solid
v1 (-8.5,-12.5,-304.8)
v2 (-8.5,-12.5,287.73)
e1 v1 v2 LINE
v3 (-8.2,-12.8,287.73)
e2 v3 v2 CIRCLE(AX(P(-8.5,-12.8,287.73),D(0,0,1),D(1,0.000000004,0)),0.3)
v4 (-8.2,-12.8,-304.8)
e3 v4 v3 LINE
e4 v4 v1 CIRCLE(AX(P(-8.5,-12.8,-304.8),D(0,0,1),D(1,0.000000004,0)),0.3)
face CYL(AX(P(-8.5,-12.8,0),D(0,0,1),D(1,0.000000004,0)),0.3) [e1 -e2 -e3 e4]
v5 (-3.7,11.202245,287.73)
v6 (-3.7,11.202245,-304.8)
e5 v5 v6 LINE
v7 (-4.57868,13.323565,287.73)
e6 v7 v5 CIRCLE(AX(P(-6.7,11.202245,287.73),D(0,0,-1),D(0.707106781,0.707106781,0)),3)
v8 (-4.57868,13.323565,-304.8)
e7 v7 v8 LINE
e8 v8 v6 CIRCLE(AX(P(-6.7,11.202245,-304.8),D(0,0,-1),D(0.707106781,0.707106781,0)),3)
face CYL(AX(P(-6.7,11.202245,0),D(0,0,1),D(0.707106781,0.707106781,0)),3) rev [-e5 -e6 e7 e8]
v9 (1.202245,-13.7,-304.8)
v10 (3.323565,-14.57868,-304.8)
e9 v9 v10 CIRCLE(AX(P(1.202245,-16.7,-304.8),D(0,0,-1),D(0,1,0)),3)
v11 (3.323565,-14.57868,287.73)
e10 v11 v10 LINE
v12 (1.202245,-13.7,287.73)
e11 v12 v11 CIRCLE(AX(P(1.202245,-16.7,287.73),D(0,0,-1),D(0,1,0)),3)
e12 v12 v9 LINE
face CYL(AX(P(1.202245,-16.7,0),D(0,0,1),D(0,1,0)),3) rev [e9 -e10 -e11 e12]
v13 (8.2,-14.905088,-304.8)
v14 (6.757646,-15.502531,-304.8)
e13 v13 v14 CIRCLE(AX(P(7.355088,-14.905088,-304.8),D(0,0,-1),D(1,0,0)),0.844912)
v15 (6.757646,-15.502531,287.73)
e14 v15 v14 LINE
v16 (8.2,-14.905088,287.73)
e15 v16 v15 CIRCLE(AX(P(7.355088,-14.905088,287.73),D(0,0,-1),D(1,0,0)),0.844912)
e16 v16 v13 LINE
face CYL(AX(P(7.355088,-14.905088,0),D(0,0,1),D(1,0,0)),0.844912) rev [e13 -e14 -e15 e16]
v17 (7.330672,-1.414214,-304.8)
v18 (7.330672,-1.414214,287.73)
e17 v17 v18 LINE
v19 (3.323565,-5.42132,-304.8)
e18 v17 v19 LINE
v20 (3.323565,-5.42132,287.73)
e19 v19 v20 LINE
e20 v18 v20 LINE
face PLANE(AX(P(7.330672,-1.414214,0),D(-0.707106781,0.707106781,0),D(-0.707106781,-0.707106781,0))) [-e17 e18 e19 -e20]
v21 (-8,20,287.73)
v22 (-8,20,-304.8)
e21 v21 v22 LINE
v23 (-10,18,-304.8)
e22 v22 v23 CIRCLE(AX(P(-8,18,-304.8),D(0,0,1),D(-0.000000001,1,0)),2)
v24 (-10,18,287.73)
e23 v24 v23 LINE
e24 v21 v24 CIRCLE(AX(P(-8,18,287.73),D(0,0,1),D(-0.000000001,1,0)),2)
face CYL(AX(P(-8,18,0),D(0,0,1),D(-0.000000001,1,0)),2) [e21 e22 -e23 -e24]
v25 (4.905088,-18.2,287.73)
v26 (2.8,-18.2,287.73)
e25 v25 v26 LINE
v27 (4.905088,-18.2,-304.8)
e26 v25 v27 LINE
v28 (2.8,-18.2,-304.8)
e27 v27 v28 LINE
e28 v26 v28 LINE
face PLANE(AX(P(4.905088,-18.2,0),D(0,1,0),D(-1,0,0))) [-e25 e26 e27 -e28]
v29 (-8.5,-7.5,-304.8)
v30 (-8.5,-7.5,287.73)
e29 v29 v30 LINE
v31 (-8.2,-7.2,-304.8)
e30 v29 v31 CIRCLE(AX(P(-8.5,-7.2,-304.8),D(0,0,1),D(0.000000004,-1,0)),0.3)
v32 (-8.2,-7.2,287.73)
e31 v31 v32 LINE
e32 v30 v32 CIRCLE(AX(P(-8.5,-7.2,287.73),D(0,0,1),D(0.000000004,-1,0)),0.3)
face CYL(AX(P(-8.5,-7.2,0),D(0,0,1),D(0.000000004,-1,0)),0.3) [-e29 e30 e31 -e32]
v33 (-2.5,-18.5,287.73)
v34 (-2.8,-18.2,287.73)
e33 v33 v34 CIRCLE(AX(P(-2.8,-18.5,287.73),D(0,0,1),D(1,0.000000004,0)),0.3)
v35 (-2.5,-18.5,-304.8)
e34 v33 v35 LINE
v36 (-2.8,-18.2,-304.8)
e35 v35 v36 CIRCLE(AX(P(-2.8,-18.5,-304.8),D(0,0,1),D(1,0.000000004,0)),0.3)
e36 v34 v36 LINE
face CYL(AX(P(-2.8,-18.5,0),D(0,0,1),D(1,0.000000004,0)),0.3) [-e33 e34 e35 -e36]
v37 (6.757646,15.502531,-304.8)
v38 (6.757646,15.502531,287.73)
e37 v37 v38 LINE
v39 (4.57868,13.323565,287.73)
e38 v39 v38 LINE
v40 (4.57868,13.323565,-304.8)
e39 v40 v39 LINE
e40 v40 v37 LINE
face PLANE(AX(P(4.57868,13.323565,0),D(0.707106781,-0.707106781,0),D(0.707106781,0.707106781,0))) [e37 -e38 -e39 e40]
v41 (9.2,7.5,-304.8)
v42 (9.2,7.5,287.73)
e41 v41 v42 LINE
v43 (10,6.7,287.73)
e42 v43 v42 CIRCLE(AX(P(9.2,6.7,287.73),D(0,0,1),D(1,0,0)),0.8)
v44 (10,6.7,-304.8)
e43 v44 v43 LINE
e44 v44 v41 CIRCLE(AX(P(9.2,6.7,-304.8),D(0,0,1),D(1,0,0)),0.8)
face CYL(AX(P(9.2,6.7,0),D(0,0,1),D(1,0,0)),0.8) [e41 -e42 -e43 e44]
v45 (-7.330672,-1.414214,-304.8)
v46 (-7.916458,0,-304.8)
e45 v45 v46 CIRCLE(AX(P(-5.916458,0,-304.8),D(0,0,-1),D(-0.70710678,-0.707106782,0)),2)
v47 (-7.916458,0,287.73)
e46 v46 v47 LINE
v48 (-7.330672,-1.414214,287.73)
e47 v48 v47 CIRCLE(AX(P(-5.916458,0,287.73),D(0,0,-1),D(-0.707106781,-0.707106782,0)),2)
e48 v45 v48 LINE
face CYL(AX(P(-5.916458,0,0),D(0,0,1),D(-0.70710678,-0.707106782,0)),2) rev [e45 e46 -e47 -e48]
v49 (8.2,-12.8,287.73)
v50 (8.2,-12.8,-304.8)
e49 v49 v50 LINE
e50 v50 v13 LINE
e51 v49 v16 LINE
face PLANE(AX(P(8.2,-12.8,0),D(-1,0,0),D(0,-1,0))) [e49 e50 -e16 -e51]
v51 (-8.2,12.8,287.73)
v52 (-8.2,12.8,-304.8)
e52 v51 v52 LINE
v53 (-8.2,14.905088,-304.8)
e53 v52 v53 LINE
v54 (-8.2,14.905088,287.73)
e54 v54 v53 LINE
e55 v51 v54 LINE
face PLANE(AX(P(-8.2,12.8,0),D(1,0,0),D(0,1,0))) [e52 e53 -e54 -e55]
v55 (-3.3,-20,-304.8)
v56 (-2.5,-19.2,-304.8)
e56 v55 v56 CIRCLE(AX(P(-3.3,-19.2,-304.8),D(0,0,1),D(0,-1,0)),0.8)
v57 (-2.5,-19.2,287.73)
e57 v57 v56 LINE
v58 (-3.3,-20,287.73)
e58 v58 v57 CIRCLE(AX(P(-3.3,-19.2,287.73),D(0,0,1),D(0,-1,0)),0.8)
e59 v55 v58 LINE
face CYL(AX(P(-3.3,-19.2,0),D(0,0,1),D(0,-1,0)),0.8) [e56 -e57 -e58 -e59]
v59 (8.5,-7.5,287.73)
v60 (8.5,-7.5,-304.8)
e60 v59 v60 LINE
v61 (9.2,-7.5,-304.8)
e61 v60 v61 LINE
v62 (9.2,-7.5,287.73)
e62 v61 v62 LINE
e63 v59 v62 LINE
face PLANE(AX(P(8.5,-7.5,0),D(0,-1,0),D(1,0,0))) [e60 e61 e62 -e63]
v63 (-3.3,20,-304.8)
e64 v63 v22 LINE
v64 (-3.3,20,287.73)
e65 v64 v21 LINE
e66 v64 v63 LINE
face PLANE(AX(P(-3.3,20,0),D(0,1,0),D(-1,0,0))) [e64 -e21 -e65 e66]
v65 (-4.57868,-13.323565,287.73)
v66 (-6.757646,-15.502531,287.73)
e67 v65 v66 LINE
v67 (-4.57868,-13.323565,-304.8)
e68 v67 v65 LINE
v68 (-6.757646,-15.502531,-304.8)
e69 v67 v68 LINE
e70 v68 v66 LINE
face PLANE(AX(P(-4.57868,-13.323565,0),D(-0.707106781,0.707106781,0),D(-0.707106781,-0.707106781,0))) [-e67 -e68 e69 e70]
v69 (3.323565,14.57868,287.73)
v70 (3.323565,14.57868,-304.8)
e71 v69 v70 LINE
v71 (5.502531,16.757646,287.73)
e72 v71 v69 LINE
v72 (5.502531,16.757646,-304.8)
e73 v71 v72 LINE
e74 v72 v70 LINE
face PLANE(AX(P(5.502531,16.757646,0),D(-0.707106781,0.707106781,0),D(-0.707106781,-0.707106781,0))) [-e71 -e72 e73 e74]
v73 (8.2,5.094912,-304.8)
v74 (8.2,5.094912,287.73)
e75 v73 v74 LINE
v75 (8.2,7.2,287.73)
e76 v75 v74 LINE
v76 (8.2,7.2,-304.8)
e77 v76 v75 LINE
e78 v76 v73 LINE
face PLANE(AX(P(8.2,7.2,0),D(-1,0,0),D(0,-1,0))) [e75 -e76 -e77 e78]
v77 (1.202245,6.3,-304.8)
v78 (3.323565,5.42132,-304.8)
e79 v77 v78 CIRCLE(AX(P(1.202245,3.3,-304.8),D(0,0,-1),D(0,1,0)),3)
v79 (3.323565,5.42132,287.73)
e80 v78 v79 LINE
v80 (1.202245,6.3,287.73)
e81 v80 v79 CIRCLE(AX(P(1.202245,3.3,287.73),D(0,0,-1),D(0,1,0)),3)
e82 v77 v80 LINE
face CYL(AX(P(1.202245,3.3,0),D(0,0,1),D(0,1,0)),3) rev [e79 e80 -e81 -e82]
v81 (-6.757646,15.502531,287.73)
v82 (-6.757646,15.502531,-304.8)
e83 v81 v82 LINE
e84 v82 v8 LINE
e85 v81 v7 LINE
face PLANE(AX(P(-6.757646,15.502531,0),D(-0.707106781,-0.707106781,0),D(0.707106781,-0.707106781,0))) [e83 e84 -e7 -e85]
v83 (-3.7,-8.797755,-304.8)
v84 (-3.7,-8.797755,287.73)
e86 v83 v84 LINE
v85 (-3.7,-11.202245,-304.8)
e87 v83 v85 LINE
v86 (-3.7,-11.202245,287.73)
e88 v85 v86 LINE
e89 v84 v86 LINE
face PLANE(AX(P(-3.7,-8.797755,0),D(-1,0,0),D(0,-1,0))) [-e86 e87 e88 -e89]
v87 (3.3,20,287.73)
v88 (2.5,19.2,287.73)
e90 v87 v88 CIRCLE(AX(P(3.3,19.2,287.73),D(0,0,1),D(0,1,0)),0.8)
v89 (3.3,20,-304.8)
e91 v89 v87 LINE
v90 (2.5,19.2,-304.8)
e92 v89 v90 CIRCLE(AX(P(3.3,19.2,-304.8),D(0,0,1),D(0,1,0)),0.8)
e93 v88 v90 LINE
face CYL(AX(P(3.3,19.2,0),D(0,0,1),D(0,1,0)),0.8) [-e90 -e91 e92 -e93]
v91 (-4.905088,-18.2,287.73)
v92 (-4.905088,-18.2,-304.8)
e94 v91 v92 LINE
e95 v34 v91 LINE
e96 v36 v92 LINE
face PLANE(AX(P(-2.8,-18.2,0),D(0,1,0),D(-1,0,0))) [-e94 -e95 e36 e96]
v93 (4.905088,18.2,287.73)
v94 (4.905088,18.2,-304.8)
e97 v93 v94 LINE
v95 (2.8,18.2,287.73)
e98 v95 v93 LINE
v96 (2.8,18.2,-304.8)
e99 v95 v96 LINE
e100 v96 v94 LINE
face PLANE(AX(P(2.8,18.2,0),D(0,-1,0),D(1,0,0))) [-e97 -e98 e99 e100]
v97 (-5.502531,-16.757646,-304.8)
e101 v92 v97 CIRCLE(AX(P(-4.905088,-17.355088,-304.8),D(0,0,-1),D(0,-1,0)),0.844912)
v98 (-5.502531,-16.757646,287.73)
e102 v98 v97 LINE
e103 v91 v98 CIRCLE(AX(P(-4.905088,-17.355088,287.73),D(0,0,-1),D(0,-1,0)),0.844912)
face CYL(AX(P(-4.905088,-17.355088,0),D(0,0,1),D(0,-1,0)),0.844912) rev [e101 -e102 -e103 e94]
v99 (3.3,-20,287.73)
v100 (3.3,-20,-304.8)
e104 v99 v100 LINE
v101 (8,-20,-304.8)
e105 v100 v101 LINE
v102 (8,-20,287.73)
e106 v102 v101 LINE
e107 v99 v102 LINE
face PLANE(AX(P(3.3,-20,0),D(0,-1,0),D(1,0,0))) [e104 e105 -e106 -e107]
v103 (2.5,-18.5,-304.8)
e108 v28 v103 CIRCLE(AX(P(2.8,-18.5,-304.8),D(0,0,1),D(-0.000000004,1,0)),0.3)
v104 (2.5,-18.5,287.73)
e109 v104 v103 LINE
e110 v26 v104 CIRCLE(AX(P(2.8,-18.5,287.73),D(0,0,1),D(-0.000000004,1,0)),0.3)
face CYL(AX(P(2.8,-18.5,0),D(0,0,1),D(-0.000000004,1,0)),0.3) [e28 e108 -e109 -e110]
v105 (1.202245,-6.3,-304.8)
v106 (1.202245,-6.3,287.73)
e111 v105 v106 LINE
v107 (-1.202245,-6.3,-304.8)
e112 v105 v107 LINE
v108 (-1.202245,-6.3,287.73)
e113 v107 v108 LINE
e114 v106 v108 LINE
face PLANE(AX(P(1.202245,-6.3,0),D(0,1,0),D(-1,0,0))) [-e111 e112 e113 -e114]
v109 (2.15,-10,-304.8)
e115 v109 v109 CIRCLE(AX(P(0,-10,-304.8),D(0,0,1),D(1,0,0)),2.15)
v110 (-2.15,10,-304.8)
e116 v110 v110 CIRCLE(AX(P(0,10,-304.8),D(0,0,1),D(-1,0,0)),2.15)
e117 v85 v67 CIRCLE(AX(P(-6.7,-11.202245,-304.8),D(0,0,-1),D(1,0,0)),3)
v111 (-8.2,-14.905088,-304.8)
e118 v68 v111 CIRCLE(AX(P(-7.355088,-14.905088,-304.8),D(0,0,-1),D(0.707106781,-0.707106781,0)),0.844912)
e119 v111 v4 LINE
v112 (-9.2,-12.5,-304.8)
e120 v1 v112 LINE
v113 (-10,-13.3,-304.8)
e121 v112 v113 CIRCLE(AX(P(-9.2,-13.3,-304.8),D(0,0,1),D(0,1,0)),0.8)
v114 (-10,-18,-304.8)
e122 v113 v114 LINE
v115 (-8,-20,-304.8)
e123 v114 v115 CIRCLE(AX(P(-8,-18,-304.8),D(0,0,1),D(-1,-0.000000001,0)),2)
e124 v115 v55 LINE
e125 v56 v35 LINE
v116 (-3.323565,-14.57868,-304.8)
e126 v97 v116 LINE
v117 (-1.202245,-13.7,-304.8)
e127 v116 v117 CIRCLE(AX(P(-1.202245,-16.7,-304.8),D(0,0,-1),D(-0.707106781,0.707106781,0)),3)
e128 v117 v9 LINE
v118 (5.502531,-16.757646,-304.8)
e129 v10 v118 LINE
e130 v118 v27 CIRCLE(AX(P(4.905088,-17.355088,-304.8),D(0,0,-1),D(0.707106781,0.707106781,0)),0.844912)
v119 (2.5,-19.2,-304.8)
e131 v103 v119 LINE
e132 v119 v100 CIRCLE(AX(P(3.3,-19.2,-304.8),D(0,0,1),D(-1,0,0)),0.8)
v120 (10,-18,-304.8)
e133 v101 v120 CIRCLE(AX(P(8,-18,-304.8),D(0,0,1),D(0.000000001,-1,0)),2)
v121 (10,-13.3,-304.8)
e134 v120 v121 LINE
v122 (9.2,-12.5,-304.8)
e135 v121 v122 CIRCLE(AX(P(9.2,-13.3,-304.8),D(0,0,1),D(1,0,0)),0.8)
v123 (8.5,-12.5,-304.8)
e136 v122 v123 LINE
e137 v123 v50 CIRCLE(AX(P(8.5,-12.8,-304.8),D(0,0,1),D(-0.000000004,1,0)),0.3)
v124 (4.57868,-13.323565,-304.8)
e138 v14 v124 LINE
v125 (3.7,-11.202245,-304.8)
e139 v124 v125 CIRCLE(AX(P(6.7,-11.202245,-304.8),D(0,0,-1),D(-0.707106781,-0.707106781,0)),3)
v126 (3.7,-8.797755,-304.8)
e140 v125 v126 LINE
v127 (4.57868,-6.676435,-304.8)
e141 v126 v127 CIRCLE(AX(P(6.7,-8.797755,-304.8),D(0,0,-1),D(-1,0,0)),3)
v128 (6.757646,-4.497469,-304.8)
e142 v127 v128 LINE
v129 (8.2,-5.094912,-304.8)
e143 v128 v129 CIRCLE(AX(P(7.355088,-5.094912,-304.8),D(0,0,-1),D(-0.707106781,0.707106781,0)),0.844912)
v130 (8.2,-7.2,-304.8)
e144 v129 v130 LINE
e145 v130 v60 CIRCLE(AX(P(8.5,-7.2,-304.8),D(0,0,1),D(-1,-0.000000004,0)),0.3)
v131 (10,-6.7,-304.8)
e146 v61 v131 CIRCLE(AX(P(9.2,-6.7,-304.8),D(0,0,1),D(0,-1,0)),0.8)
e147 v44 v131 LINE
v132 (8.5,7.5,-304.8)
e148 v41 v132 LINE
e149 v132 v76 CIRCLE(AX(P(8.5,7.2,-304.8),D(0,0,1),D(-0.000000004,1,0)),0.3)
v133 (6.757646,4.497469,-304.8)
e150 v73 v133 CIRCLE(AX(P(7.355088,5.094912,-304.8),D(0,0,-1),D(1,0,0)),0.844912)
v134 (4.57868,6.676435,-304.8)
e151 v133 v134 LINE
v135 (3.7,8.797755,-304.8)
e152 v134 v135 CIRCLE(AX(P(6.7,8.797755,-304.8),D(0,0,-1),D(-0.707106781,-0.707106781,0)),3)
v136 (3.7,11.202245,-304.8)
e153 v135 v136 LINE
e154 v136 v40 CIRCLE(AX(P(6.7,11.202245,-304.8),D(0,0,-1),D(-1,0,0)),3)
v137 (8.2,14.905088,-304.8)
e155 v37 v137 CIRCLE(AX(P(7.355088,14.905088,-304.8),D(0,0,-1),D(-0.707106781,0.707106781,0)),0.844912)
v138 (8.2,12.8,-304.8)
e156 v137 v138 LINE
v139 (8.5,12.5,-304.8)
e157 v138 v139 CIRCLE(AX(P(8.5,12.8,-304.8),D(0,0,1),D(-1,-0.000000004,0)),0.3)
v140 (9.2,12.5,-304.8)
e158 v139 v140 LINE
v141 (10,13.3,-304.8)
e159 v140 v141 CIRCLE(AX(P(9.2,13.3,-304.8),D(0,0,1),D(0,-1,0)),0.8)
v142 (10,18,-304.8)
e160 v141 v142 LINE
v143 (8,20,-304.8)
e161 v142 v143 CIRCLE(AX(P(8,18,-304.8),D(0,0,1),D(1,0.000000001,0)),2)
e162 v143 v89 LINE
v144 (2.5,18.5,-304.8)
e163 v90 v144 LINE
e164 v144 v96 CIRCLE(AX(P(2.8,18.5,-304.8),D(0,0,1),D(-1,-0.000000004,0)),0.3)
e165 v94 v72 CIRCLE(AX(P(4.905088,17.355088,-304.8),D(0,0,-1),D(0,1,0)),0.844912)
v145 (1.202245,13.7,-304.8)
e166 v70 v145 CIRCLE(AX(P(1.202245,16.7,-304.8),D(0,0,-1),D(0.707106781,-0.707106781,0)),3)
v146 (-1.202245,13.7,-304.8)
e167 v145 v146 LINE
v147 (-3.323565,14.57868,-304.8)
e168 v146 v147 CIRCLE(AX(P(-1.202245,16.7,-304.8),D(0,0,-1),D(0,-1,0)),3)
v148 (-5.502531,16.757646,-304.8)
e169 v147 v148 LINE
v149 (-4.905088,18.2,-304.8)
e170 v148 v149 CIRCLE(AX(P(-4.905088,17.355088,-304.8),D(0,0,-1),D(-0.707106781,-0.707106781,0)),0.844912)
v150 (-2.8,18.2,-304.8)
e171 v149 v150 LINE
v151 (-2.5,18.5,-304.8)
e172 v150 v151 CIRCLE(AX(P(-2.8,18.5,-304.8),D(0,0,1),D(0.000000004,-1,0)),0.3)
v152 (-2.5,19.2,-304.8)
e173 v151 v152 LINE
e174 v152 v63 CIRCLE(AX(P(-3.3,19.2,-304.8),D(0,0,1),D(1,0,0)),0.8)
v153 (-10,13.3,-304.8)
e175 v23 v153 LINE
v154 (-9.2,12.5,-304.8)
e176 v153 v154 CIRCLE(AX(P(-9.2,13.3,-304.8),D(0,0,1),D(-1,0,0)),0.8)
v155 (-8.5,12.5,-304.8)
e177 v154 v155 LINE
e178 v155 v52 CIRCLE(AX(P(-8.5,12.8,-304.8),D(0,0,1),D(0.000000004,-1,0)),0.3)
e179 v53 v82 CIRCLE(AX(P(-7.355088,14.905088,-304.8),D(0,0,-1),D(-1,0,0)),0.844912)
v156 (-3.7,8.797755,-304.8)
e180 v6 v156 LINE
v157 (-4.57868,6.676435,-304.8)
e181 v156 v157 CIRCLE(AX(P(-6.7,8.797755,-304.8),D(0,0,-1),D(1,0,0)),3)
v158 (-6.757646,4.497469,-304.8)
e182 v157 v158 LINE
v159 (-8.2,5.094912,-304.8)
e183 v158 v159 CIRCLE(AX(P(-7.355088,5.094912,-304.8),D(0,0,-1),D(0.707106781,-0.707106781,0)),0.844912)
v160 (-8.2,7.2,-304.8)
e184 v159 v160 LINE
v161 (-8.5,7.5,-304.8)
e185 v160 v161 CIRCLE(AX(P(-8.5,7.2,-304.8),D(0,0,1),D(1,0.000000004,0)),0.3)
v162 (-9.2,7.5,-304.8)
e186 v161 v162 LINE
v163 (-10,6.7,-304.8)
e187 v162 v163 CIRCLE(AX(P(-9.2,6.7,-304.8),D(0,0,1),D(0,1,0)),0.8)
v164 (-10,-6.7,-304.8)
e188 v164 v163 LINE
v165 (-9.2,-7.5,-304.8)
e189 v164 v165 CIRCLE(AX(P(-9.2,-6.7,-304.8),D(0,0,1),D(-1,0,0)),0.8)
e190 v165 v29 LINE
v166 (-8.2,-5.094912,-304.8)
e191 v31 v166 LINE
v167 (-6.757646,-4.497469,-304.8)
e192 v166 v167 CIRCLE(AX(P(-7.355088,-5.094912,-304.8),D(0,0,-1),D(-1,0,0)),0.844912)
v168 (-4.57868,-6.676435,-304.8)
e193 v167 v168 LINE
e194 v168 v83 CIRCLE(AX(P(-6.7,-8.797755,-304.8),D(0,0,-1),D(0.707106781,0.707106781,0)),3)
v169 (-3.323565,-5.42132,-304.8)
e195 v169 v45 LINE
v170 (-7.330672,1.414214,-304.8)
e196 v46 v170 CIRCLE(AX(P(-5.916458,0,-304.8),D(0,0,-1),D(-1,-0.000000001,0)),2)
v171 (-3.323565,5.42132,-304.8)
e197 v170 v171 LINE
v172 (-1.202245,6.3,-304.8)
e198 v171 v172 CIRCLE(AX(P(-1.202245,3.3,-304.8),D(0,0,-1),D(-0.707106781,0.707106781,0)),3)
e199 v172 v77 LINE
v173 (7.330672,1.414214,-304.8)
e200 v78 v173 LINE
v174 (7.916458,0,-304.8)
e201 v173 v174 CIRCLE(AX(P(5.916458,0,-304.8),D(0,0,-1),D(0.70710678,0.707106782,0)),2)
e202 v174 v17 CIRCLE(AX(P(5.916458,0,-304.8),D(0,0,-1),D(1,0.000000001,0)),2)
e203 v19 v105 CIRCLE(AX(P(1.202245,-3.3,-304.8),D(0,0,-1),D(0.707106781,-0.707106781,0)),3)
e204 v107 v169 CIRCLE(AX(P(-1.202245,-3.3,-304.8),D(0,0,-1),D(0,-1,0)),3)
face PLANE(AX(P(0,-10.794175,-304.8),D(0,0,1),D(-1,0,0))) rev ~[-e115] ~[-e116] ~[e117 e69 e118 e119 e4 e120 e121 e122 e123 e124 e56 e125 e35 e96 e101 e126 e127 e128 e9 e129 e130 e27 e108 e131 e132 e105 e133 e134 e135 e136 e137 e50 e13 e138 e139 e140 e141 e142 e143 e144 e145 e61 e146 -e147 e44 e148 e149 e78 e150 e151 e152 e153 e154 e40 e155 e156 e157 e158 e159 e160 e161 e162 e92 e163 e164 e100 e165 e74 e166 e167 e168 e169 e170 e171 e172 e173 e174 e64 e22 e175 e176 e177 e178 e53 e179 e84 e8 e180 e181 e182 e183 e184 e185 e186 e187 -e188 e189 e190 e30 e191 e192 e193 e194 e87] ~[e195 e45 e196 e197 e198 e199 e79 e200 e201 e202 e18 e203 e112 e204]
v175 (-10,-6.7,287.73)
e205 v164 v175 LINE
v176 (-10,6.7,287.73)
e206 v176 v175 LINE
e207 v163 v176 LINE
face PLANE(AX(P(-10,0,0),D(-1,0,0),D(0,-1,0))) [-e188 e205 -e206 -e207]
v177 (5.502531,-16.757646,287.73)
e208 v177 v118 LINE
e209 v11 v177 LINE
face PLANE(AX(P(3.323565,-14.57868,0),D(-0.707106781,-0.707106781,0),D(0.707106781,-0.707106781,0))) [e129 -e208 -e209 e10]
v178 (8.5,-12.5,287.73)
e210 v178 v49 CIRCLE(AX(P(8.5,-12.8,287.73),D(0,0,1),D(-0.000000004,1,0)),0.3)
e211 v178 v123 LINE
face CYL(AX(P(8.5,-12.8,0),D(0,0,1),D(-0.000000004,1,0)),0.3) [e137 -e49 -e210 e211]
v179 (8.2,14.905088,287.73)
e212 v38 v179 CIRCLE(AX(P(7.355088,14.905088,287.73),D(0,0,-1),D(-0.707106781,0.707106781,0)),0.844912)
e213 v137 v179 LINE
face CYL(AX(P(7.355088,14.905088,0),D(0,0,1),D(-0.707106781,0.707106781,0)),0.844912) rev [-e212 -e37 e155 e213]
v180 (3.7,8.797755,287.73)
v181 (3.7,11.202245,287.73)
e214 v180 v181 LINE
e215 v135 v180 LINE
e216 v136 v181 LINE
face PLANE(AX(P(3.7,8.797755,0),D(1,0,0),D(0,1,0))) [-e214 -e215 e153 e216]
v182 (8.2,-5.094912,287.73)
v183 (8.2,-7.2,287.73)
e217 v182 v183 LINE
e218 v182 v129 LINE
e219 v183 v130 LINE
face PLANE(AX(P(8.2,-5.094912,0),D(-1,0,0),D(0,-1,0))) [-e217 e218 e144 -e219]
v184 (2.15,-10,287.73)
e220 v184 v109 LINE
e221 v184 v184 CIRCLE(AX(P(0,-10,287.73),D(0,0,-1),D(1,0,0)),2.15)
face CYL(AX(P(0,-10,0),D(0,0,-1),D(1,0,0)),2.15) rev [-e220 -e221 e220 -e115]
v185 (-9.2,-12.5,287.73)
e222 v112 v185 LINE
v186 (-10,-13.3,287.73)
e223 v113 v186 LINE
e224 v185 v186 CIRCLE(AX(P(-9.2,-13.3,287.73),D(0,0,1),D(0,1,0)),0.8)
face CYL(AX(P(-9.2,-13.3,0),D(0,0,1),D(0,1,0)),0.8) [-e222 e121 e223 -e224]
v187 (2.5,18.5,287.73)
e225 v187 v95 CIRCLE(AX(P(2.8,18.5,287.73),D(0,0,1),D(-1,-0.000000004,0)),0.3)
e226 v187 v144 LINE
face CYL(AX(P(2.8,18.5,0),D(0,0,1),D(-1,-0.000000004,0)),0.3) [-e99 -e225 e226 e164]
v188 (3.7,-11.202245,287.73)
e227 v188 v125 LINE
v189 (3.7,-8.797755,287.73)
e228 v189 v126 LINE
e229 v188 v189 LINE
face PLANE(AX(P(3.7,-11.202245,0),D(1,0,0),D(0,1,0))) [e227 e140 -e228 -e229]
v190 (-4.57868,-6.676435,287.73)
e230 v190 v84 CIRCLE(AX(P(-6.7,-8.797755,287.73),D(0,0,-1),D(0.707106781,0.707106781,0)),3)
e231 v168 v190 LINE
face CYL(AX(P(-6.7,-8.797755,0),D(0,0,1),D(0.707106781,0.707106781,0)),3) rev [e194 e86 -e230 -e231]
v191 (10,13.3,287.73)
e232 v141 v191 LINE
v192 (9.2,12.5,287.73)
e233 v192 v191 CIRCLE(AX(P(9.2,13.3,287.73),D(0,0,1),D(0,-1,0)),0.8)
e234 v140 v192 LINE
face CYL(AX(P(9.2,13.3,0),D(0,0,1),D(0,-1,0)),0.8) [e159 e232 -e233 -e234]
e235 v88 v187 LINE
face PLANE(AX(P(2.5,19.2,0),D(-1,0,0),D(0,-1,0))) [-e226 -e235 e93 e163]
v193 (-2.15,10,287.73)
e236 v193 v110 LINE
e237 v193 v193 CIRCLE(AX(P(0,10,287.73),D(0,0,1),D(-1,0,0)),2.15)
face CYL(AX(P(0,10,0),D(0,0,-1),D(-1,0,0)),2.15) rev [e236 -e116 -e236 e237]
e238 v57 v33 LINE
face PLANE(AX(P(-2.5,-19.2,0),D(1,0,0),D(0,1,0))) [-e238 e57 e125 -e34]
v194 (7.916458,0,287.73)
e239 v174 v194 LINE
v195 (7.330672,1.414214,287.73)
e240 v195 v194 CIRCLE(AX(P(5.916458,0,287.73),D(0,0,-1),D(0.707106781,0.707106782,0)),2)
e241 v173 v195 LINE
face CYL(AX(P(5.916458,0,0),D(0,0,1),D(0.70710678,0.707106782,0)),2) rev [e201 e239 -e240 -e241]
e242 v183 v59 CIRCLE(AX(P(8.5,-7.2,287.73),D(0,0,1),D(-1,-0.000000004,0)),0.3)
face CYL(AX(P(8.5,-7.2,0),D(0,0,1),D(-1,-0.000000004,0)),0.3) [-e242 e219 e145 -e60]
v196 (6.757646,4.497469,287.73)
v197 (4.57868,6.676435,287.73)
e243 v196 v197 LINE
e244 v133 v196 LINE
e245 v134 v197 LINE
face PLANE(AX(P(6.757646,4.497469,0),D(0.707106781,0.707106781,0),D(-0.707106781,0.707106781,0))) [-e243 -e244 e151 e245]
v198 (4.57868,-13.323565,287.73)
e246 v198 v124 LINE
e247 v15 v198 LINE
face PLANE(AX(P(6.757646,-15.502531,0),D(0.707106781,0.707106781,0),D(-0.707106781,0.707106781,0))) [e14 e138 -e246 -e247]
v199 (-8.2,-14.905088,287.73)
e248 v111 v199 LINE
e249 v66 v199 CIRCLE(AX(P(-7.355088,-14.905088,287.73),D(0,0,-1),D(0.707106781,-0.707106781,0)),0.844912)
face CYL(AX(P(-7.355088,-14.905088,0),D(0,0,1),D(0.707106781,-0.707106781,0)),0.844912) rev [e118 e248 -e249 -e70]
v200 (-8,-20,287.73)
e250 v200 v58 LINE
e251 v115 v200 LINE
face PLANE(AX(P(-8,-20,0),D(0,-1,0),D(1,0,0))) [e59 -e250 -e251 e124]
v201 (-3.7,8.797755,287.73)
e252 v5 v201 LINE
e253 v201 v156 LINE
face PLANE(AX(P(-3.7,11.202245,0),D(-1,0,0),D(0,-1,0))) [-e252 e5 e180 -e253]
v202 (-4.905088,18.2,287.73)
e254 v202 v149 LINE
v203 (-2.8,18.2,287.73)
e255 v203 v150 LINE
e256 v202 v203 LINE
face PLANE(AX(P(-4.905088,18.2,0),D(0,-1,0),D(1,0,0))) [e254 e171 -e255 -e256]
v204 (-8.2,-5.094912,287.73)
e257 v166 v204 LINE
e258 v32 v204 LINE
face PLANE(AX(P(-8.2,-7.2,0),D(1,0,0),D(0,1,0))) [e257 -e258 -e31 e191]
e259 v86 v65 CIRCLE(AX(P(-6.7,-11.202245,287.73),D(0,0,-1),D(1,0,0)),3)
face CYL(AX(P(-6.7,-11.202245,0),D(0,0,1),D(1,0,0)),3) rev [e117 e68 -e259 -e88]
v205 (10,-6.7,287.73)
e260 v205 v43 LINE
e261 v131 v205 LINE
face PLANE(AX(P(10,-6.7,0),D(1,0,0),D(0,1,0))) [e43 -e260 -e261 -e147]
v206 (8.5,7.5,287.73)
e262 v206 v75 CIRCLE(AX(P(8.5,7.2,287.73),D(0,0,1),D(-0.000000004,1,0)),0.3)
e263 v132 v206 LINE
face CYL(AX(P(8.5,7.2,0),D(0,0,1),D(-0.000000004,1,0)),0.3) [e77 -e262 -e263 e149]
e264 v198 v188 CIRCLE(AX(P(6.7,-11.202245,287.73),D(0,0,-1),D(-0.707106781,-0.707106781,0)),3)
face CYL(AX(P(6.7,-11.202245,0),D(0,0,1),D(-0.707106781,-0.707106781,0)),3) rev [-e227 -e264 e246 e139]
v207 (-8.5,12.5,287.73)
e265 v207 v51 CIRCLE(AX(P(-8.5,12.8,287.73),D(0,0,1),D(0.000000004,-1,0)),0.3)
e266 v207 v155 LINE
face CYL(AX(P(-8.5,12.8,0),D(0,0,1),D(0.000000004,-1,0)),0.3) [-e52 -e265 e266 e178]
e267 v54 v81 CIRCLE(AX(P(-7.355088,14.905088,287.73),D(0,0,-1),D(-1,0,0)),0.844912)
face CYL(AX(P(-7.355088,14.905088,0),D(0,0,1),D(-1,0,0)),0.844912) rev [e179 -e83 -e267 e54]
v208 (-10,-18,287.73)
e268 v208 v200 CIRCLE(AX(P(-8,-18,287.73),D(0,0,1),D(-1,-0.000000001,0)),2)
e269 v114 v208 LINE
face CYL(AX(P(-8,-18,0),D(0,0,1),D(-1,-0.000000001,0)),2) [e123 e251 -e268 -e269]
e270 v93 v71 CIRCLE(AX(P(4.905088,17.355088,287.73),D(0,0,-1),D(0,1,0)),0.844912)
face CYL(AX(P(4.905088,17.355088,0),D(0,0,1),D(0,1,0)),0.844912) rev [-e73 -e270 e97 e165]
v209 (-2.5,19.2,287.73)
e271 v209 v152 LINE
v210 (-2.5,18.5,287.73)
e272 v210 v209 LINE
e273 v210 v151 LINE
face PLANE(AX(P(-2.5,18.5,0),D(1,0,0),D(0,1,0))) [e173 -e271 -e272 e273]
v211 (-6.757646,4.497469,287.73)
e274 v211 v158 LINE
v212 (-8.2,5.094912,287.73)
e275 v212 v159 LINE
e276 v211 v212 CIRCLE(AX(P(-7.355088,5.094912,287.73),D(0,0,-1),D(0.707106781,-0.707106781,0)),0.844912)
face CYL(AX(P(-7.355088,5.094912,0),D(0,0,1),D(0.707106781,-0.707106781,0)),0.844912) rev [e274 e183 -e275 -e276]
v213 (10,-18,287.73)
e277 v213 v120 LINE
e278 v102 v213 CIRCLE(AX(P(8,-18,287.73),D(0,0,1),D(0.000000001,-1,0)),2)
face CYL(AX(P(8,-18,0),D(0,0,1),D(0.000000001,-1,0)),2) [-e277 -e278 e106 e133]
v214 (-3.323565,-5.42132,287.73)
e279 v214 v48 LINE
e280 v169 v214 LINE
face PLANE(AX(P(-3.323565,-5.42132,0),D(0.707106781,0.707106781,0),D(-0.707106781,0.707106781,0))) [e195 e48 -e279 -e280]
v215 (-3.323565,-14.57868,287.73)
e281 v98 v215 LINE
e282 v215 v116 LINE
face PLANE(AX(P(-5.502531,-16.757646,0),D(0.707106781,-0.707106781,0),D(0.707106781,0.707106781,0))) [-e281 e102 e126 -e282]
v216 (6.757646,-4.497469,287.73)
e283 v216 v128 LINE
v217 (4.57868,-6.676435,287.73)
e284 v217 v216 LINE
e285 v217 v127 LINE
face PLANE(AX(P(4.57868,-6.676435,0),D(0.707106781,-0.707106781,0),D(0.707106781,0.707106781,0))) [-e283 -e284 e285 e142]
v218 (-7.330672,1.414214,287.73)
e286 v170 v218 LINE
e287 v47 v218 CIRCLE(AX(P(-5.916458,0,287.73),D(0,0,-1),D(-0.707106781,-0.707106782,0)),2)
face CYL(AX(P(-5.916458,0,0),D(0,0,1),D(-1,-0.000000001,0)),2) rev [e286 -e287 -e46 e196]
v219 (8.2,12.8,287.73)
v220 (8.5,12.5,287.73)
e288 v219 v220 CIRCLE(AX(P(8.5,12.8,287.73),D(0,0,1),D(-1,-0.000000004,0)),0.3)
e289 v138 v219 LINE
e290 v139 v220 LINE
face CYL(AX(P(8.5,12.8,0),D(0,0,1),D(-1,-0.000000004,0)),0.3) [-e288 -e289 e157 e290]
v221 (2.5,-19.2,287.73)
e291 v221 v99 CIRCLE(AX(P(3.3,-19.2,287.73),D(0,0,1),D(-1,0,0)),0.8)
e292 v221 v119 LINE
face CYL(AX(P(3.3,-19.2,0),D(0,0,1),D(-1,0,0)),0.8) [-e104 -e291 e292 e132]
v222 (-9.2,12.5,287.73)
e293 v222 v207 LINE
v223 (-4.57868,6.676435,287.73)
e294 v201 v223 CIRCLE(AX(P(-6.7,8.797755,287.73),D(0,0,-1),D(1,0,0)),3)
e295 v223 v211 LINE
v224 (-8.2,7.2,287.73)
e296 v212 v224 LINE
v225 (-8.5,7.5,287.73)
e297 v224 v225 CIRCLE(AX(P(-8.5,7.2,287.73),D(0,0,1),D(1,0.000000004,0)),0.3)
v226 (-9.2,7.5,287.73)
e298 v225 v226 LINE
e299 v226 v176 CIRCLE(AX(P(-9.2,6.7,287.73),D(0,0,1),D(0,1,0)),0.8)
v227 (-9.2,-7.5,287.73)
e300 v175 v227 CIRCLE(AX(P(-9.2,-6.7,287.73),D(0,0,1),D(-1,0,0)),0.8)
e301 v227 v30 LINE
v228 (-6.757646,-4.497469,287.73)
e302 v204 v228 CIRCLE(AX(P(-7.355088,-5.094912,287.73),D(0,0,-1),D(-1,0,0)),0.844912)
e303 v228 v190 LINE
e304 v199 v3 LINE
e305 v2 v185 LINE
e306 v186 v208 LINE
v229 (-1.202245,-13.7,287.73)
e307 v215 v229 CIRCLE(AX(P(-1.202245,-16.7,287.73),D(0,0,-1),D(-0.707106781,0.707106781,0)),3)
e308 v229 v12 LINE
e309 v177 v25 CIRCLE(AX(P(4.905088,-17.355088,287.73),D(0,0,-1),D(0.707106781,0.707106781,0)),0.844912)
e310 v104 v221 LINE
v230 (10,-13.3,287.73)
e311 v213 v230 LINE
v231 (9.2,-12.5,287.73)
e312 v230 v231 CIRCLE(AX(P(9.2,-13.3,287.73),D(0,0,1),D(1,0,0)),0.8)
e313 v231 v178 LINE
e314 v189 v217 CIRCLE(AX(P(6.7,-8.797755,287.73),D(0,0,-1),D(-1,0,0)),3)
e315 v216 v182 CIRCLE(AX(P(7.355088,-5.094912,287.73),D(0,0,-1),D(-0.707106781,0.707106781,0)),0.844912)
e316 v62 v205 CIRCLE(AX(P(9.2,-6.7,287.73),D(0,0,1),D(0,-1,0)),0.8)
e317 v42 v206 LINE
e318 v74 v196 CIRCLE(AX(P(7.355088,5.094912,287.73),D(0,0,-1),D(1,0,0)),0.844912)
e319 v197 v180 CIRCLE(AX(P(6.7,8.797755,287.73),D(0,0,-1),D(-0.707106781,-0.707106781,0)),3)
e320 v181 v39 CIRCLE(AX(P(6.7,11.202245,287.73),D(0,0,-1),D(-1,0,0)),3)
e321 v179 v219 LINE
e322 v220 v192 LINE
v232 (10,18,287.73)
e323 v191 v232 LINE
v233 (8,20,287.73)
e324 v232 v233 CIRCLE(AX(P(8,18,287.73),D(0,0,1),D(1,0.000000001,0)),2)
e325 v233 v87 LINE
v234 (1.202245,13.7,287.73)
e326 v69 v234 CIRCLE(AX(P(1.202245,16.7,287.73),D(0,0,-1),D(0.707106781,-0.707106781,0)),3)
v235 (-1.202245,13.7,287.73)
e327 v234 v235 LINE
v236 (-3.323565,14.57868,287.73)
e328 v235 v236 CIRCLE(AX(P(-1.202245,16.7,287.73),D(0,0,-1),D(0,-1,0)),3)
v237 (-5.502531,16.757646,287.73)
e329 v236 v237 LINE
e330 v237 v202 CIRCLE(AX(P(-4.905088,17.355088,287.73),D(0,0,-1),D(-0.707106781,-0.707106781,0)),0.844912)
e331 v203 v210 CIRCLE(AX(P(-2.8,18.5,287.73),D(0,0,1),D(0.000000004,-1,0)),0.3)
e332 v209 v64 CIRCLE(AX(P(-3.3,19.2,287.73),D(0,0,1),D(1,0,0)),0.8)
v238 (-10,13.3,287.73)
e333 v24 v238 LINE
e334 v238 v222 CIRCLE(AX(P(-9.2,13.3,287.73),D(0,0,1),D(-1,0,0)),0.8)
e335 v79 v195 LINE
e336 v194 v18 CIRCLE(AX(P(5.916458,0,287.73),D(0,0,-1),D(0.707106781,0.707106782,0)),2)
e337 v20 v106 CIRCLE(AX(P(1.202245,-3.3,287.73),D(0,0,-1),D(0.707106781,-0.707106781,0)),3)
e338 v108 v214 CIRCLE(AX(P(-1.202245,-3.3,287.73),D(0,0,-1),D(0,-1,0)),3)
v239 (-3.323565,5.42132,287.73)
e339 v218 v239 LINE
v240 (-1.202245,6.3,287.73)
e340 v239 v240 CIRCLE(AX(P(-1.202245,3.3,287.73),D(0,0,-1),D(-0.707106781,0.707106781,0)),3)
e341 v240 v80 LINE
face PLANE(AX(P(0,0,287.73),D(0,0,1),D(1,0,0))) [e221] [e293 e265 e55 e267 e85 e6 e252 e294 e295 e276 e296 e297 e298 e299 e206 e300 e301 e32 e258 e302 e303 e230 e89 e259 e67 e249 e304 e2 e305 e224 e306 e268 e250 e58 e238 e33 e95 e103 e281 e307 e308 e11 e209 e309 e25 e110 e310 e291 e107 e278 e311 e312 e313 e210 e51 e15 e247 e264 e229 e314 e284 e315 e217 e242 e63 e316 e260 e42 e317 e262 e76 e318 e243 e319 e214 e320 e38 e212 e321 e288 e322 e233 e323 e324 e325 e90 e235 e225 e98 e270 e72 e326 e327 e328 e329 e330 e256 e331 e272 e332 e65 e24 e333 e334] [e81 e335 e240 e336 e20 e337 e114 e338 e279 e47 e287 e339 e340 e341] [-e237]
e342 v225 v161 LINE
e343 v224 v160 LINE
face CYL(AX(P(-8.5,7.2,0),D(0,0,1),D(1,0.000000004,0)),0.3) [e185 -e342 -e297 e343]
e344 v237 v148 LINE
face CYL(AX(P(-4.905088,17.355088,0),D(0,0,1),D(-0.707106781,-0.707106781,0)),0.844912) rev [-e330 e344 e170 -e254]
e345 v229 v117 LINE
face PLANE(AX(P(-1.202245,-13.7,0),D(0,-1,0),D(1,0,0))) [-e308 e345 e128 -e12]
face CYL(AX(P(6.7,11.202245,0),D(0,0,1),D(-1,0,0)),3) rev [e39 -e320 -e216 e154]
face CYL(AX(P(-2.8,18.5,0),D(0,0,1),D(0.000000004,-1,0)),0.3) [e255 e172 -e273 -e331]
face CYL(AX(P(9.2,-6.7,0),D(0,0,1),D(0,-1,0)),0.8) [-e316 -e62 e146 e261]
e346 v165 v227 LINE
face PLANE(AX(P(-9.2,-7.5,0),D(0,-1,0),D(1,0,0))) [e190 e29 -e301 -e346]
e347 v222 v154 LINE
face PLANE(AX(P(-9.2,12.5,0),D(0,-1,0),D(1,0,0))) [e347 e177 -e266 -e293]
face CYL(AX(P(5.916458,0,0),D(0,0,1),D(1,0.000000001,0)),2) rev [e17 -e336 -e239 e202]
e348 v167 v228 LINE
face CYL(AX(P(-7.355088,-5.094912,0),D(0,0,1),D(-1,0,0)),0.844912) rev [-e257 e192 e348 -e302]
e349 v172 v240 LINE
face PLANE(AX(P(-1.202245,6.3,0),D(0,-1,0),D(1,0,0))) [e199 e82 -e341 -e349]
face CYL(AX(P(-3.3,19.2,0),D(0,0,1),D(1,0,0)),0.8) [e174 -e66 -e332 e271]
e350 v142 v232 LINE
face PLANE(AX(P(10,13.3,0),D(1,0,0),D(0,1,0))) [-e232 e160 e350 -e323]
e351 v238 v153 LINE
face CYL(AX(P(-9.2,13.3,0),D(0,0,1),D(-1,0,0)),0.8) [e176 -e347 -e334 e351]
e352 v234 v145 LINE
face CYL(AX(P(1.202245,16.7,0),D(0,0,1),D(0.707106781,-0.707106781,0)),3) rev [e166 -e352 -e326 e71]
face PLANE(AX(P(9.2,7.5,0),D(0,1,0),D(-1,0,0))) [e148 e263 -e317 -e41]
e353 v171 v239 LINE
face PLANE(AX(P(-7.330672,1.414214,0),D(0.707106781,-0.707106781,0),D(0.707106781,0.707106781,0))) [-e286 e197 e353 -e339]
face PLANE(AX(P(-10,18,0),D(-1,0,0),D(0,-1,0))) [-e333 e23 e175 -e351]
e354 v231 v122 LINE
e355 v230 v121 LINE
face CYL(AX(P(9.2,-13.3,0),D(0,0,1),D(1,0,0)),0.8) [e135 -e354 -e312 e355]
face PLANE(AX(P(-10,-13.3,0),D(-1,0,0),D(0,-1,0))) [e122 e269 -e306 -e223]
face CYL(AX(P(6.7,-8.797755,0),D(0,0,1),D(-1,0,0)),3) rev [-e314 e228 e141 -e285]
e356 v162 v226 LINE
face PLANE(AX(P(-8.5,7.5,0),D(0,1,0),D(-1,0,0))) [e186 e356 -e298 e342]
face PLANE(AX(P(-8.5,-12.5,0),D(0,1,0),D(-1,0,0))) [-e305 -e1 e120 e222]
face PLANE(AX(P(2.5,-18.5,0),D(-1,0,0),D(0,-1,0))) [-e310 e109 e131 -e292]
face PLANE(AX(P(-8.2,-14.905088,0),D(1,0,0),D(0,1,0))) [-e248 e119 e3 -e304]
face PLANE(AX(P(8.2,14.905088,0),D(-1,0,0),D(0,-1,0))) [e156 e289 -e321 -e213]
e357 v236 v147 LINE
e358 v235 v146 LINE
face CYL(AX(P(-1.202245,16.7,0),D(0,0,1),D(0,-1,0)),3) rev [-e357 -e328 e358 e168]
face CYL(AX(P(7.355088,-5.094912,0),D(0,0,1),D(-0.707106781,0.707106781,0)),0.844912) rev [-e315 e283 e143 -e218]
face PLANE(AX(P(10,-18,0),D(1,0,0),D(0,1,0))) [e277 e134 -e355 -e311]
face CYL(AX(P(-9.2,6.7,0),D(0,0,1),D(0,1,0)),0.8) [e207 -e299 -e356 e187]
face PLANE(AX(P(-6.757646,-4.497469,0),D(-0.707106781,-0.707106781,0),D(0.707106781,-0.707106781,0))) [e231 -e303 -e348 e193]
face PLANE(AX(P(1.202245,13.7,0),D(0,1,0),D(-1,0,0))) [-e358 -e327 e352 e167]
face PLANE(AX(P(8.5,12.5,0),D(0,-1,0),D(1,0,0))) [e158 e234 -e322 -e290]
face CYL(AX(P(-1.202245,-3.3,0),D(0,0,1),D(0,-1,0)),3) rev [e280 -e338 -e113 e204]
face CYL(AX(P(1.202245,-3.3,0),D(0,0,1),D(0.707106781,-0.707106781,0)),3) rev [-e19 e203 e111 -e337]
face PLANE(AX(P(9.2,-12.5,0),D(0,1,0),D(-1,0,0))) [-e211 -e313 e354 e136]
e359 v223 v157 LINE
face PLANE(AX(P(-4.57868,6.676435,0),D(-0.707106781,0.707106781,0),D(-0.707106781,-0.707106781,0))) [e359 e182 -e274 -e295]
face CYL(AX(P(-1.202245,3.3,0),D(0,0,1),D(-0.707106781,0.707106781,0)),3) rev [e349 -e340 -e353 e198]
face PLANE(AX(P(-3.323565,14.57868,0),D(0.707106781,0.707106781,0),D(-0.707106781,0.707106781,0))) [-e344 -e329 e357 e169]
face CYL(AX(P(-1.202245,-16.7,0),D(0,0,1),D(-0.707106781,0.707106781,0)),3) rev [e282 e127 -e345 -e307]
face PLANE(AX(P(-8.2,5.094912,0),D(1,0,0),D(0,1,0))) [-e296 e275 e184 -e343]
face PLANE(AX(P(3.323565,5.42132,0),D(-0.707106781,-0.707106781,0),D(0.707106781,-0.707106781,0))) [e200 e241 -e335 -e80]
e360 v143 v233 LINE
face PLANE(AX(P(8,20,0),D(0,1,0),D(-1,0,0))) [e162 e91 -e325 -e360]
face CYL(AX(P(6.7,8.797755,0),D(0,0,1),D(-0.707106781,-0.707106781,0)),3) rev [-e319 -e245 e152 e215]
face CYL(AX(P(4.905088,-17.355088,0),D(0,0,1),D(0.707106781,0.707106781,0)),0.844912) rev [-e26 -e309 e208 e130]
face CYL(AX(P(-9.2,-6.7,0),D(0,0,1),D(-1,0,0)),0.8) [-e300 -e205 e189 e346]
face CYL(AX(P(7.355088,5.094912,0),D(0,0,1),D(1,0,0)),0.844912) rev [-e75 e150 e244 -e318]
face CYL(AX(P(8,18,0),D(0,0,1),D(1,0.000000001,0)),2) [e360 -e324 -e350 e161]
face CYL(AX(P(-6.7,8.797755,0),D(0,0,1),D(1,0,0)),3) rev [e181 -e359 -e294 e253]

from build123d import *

# Parameters (mm, degrees)
SKETCH3_R           = 2.15
BOSS_EXTRUDE1_DEPTH = 304.8
CIRPATTERN1_COUNT   = 2
SKETCH4_R           = 2.15
CUT_EXTRUDE1_DEPTH  = 17.07


with BuildPart() as part:
    # Sketch3 → Boss-Extrude1 (new, symmetric)
    with BuildSketch(Plane.XY):
        with BuildLine():
            Line((-8.5, 7.5), (-9.2, 7.5))
            ThreePointArc((-9.2, 7.5), (-9.765685425, 7.265685425), (-10, 6.7))
            Line((-10, 6.7), (-10, 0))
            Line((-10, 0), (-7.916458339, 0))
            ThreePointArc((-7.916458339, 0), (-7.764217404, 0.765366865), (-7.330671901, 1.414213562))
            Line((-7.330671901, 1.414213562), (-3.32356512, 5.421320344))
            ThreePointArc((-3.32356512, 5.421320344), (-2.350295073, 6.071638598), (-1.202244776, 6.3))
            Line((-1.202244776, 6.3), (1.202244776, 6.3))
            ThreePointArc((1.202244776, 6.3), (2.350295073, 6.071638598), (3.32356512, 5.421320344))
            Line((3.32356512, 5.421320344), (7.330671901, 1.414213562))
            ThreePointArc((7.330671901, 1.414213562), (7.764217404, 0.765366865), (7.916458339, 0))
            Line((7.916458339, 0), (10, 0))
            Line((10, 0), (10, 6.7))
            ThreePointArc((10, 6.7), (9.765685425, 7.265685425), (9.2, 7.5))
            Line((9.2, 7.5), (8.5, 7.5))
            ThreePointArc((8.5, 7.5), (8.287867966, 7.412132034), (8.2, 7.2))
            Line((8.2, 7.2), (8.2, 5.094911614))
            ThreePointArc((8.2, 5.094911614), (7.678422063, 4.314315067), (6.757645654, 4.497468882))
            Line((6.757645654, 4.497468882), (4.578679656, 6.67643488))
            ThreePointArc((4.578679656, 6.67643488), (3.928361402, 7.649704927), (3.7, 8.797755224))
            Line((3.7, 8.797755224), (3.7, 11.202244776))
            ThreePointArc((3.7, 11.202244776), (3.928361402, 12.350295073), (4.578679656, 13.32356512))
            Line((4.578679656, 13.32356512), (6.757645654, 15.502531118))
            ThreePointArc((6.757645654, 15.502531118), (7.678422063, 15.685684933), (8.2, 14.905088386))
            Line((8.2, 14.905088386), (8.2, 12.8))
            ThreePointArc((8.2, 12.8), (8.287867966, 12.587867966), (8.5, 12.5))
            Line((8.5, 12.5), (9.2, 12.5))
            ThreePointArc((9.2, 12.5), (9.765685425, 12.734314575), (10, 13.3))
            Line((10, 13.3), (10, 18))
            ThreePointArc((10, 18), (9.414213562, 19.414213562), (8, 20))
            Line((8, 20), (3.3, 20))
            ThreePointArc((3.3, 20), (2.734314575, 19.765685425), (2.5, 19.2))
            Line((2.5, 19.2), (2.5, 18.5))
            ThreePointArc((2.5, 18.5), (2.587867966, 18.287867966), (2.8, 18.2))
            Line((2.8, 18.2), (4.905088386, 18.2))
            ThreePointArc((4.905088386, 18.2), (5.685684933, 17.678422063), (5.502531118, 16.757645654))
            Line((5.502531118, 16.757645654), (3.32356512, 14.578679656))
            ThreePointArc((3.32356512, 14.578679656), (2.350295073, 13.928361402), (1.202244776, 13.7))
            Line((1.202244776, 13.7), (-1.202244776, 13.7))
            ThreePointArc((-1.202244776, 13.7), (-2.350295073, 13.928361402), (-3.32356512, 14.578679656))
            Line((-3.32356512, 14.578679656), (-5.502531118, 16.757645654))
            ThreePointArc((-5.502531118, 16.757645654), (-5.685684933, 17.678422063), (-4.905088386, 18.2))
            Line((-4.905088386, 18.2), (-2.8, 18.2))
            ThreePointArc((-2.8, 18.2), (-2.587867966, 18.287867966), (-2.5, 18.5))
            Line((-2.5, 18.5), (-2.5, 19.2))
            ThreePointArc((-2.5, 19.2), (-2.734314575, 19.765685425), (-3.3, 20))
            Line((-3.3, 20), (-8, 20))
            ThreePointArc((-8, 20), (-9.414213562, 19.414213562), (-10, 18))
            Line((-10, 18), (-10, 13.3))
            ThreePointArc((-10, 13.3), (-9.765685425, 12.734314575), (-9.2, 12.5))
            Line((-9.2, 12.5), (-8.5, 12.5))
            ThreePointArc((-8.5, 12.5), (-8.287867966, 12.587867966), (-8.2, 12.8))
            Line((-8.2, 12.8), (-8.2, 14.905088386))
            ThreePointArc((-8.2, 14.905088386), (-7.678422063, 15.685684933), (-6.757645654, 15.502531118))
            Line((-6.757645654, 15.502531118), (-4.578679656, 13.32356512))
            ThreePointArc((-4.578679656, 13.32356512), (-3.928361402, 12.350295073), (-3.7, 11.202244776))
            Line((-3.7, 11.202244776), (-3.7, 8.797755224))
            ThreePointArc((-3.7, 8.797755224), (-3.928361402, 7.649704927), (-4.578679656, 6.67643488))
            Line((-4.578679656, 6.67643488), (-6.757645654, 4.497468882))
            ThreePointArc((-6.757645654, 4.497468882), (-7.678422063, 4.314315067), (-8.2, 5.094911614))
            Line((-8.2, 5.094911614), (-8.2, 7.2))
            ThreePointArc((-8.2, 7.2), (-8.287867966, 7.412132034), (-8.5, 7.5))
        make_face()
        with Locations(Location((0, 10, 0), (0, 0, 180))):
            Circle(SKETCH3_R, mode=Mode.SUBTRACT)
    boss_extrude1 = extrude(amount=BOSS_EXTRUDE1_DEPTH, both=True)

    # CirPattern1: Boss-Extrude1 ×2 about axis
    cirpattern1_axis = Axis((0, 0, 0), (0, 0, 1))
    for i in range(1, CIRPATTERN1_COUNT):
        add(boss_extrude1.rotate(cirpattern1_axis, i * 360 / CIRPATTERN1_COUNT))

    # Sketch4 → Cut-Extrude1 (cut)
    with BuildSketch(Plane.XY.offset(304.8)):
        with BuildLine():
            Line((-2.5, 18.5), (-2.5, 19.2))
            ThreePointArc((-2.5, 19.2), (-2.734314575, 19.765685425), (-3.3, 20))
            Line((-3.3, 20), (-8, 20))
            ThreePointArc((-8, 20), (-9.414213562, 19.414213562), (-10, 18))
            Line((-10, 18), (-10, 13.3))
            ThreePointArc((-10, 13.3), (-9.765685425, 12.734314575), (-9.2, 12.5))
            Line((-9.2, 12.5), (-8.5, 12.5))
            ThreePointArc((-8.5, 12.5), (-8.287867966, 12.587867966), (-8.2, 12.8))
            Line((-8.2, 12.8), (-8.2, 14.905088386))
            ThreePointArc((-8.2, 14.905088386), (-7.678422063, 15.685684933), (-6.757645654, 15.502531118))
            Line((-6.757645654, 15.502531118), (-4.578679656, 13.32356512))
            ThreePointArc((-4.578679656, 13.32356512), (-3.928361402, 12.350295073), (-3.7, 11.202244776))
            Line((-3.7, 11.202244776), (-3.7, 8.797755224))
            ThreePointArc((-3.7, 8.797755224), (-3.928361402, 7.649704927), (-4.578679656, 6.67643488))
            Line((-4.578679656, 6.67643488), (-6.757645654, 4.497468882))
            ThreePointArc((-6.757645654, 4.497468882), (-7.678422063, 4.314315067), (-8.2, 5.094911614))
            Line((-8.2, 5.094911614), (-8.2, 7.2))
            ThreePointArc((-8.2, 7.2), (-8.287867966, 7.412132034), (-8.5, 7.5))
            Line((-8.5, 7.5), (-9.2, 7.5))
            ThreePointArc((-9.2, 7.5), (-9.765685425, 7.265685425), (-10, 6.7))
            Line((-10, 6.7), (-10, -6.7))
            ThreePointArc((-10, -6.7), (-9.765685425, -7.265685425), (-9.2, -7.5))
            Line((-9.2, -7.5), (-8.5, -7.5))
            ThreePointArc((-8.5, -7.5), (-8.287867966, -7.412132034), (-8.2, -7.2))
            Line((-8.2, -7.2), (-8.2, -5.094911614))
            ThreePointArc((-8.2, -5.094911614), (-7.678422063, -4.314315067), (-6.757645654, -4.497468882))
            Line((-6.757645654, -4.497468882), (-4.578679656, -6.67643488))
            ThreePointArc((-4.578679656, -6.67643488), (-3.928361402, -7.649704927), (-3.7, -8.797755224))
            Line((-3.7, -8.797755224), (-3.7, -11.202244776))
            ThreePointArc((-3.7, -11.202244776), (-3.928361402, -12.350295073), (-4.578679656, -13.32356512))
            Line((-4.578679656, -13.32356512), (-6.757645654, -15.502531118))
            ThreePointArc((-6.757645654, -15.502531118), (-7.678422063, -15.685684933), (-8.2, -14.905088386))
            Line((-8.2, -14.905088386), (-8.2, -12.8))
            ThreePointArc((-8.2, -12.8), (-8.287867966, -12.587867966), (-8.5, -12.5))
            Line((-8.5, -12.5), (-9.2, -12.5))
            ThreePointArc((-9.2, -12.5), (-9.765685425, -12.734314575), (-10, -13.3))
            Line((-10, -13.3), (-10, -18))
            ThreePointArc((-10, -18), (-9.414213562, -19.414213562), (-8, -20))
            Line((-8, -20), (-3.3, -20))
            ThreePointArc((-3.3, -20), (-2.734314575, -19.765685425), (-2.5, -19.2))
            Line((-2.5, -19.2), (-2.5, -18.5))
            ThreePointArc((-2.5, -18.5), (-2.587867966, -18.287867966), (-2.8, -18.2))
            Line((-2.8, -18.2), (-4.905088386, -18.2))
            ThreePointArc((-4.905088386, -18.2), (-5.685684933, -17.678422063), (-5.502531118, -16.757645654))
            Line((-5.502531118, -16.757645654), (-3.32356512, -14.578679656))
            ThreePointArc((-3.32356512, -14.578679656), (-2.350295073, -13.928361402), (-1.202244776, -13.7))
            Line((-1.202244776, -13.7), (1.202244776, -13.7))
            ThreePointArc((1.202244776, -13.7), (2.350295073, -13.928361402), (3.32356512, -14.578679656))
            Line((3.32356512, -14.578679656), (5.502531118, -16.757645654))
            ThreePointArc((5.502531118, -16.757645654), (5.685684933, -17.678422063), (4.905088386, -18.2))
            Line((4.905088386, -18.2), (2.8, -18.2))
            ThreePointArc((2.8, -18.2), (2.587867966, -18.287867966), (2.5, -18.5))
            Line((2.5, -18.5), (2.5, -19.2))
            ThreePointArc((2.5, -19.2), (2.734314575, -19.765685425), (3.3, -20))
            Line((3.3, -20), (8, -20))
            ThreePointArc((8, -20), (9.414213562, -19.414213562), (10, -18))
            Line((10, -18), (10, -13.3))
            ThreePointArc((10, -13.3), (9.765685425, -12.734314575), (9.2, -12.5))
            Line((9.2, -12.5), (8.5, -12.5))
            ThreePointArc((8.5, -12.5), (8.287867966, -12.587867966), (8.2, -12.8))
            Line((8.2, -12.8), (8.2, -14.905088386))
            ThreePointArc((8.2, -14.905088386), (7.678422063, -15.685684933), (6.757645654, -15.502531118))
            Line((6.757645654, -15.502531118), (4.578679656, -13.32356512))
            ThreePointArc((4.578679656, -13.32356512), (3.928361402, -12.350295073), (3.7, -11.202244776))
            Line((3.7, -11.202244776), (3.7, -8.797755224))
            ThreePointArc((3.7, -8.797755224), (3.928361402, -7.649704927), (4.578679656, -6.67643488))
            Line((4.578679656, -6.67643488), (6.757645654, -4.497468882))
            ThreePointArc((6.757645654, -4.497468882), (7.678422063, -4.314315067), (8.2, -5.094911614))
            Line((8.2, -5.094911614), (8.2, -7.2))
            ThreePointArc((8.2, -7.2), (8.287867966, -7.412132034), (8.5, -7.5))
            Line((8.5, -7.5), (9.2, -7.5))
            ThreePointArc((9.2, -7.5), (9.765685425, -7.265685425), (10, -6.7))
            Line((10, -6.7), (10, 6.7))
            ThreePointArc((10, 6.7), (9.765685425, 7.265685425), (9.2, 7.5))
            Line((9.2, 7.5), (8.5, 7.5))
            ThreePointArc((8.5, 7.5), (8.287867966, 7.412132034), (8.2, 7.2))
            Line((8.2, 7.2), (8.2, 5.094911614))
            ThreePointArc((8.2, 5.094911614), (7.678422063, 4.314315067), (6.757645654, 4.497468882))
            Line((6.757645654, 4.497468882), (4.578679656, 6.67643488))
            ThreePointArc((4.578679656, 6.67643488), (3.928361402, 7.649704927), (3.7, 8.797755224))
            Line((3.7, 8.797755224), (3.7, 11.202244776))
            ThreePointArc((3.7, 11.202244776), (3.928361402, 12.350295073), (4.578679656, 13.32356512))
            Line((4.578679656, 13.32356512), (6.757645654, 15.502531118))
            ThreePointArc((6.757645654, 15.502531118), (7.678422063, 15.685684933), (8.2, 14.905088386))
            Line((8.2, 14.905088386), (8.2, 12.8))
            ThreePointArc((8.2, 12.8), (8.287867966, 12.587867966), (8.5, 12.5))
            Line((8.5, 12.5), (9.2, 12.5))
            ThreePointArc((9.2, 12.5), (9.765685425, 12.734314575), (10, 13.3))
            Line((10, 13.3), (10, 18))
            ThreePointArc((10, 18), (9.414213562, 19.414213562), (8, 20))
            Line((8, 20), (3.3, 20))
            ThreePointArc((3.3, 20), (2.734314575, 19.765685425), (2.5, 19.2))
            Line((2.5, 19.2), (2.5, 18.5))
            ThreePointArc((2.5, 18.5), (2.587867966, 18.287867966), (2.8, 18.2))
            Line((2.8, 18.2), (4.905088386, 18.2))
            ThreePointArc((4.905088386, 18.2), (5.685684933, 17.678422063), (5.502531118, 16.757645654))
            Line((5.502531118, 16.757645654), (3.32356512, 14.578679656))
            ThreePointArc((3.32356512, 14.578679656), (2.350295073, 13.928361402), (1.202244776, 13.7))
            Line((1.202244776, 13.7), (-1.202244776, 13.7))
            ThreePointArc((-1.202244776, 13.7), (-2.350295073, 13.928361402), (-3.32356512, 14.578679656))
            Line((-3.32356512, 14.578679656), (-5.502531118, 16.757645654))
            ThreePointArc((-5.502531118, 16.757645654), (-5.685684933, 17.678422063), (-4.905088386, 18.2))
            Line((-4.905088386, 18.2), (-2.8, 18.2))
            ThreePointArc((-2.8, 18.2), (-2.587867966, 18.287867966), (-2.5, 18.5))
        make_face()
        with Locations(Location((0, 10, 0), (0, 0, 180))):
            Circle(SKETCH4_R, mode=Mode.SUBTRACT)
        with Locations(Location((0, -10, 0), (0, 0, 90))):
            Circle(SKETCH4_R, mode=Mode.SUBTRACT)
        with BuildLine():
            Line((7.330671901, -1.414213562), (3.32356512, -5.421320344))
            ThreePointArc((3.32356512, -5.421320344), (2.350295073, -6.071638598), (1.202244776, -6.3))
            Line((1.202244776, -6.3), (-1.202244776, -6.3))
            ThreePointArc((-1.202244776, -6.3), (-2.350295073, -6.071638598), (-3.32356512, -5.421320344))
            Line((-3.32356512, -5.421320344), (-7.330671901, -1.414213562))
            ThreePointArc((-7.330671901, -1.414213562), (-7.916458339, 0), (-7.330671901, 1.414213562))
            Line((-7.330671901, 1.414213562), (-3.32356512, 5.421320344))
            ThreePointArc((-3.32356512, 5.421320344), (-2.350295073, 6.071638598), (-1.202244776, 6.3))
            Line((-1.202244776, 6.3), (1.202244776, 6.3))
            ThreePointArc((1.202244776, 6.3), (2.350295073, 6.071638598), (3.32356512, 5.421320344))
            Line((3.32356512, 5.421320344), (7.330671901, 1.414213562))
            ThreePointArc((7.330671901, 1.414213562), (7.916458339, 0), (7.330671901, -1.414213562))
        make_face(mode=Mode.SUBTRACT)
    extrude(amount=-CUT_EXTRUDE1_DEPTH, mode=Mode.SUBTRACT)


solid = part.part
